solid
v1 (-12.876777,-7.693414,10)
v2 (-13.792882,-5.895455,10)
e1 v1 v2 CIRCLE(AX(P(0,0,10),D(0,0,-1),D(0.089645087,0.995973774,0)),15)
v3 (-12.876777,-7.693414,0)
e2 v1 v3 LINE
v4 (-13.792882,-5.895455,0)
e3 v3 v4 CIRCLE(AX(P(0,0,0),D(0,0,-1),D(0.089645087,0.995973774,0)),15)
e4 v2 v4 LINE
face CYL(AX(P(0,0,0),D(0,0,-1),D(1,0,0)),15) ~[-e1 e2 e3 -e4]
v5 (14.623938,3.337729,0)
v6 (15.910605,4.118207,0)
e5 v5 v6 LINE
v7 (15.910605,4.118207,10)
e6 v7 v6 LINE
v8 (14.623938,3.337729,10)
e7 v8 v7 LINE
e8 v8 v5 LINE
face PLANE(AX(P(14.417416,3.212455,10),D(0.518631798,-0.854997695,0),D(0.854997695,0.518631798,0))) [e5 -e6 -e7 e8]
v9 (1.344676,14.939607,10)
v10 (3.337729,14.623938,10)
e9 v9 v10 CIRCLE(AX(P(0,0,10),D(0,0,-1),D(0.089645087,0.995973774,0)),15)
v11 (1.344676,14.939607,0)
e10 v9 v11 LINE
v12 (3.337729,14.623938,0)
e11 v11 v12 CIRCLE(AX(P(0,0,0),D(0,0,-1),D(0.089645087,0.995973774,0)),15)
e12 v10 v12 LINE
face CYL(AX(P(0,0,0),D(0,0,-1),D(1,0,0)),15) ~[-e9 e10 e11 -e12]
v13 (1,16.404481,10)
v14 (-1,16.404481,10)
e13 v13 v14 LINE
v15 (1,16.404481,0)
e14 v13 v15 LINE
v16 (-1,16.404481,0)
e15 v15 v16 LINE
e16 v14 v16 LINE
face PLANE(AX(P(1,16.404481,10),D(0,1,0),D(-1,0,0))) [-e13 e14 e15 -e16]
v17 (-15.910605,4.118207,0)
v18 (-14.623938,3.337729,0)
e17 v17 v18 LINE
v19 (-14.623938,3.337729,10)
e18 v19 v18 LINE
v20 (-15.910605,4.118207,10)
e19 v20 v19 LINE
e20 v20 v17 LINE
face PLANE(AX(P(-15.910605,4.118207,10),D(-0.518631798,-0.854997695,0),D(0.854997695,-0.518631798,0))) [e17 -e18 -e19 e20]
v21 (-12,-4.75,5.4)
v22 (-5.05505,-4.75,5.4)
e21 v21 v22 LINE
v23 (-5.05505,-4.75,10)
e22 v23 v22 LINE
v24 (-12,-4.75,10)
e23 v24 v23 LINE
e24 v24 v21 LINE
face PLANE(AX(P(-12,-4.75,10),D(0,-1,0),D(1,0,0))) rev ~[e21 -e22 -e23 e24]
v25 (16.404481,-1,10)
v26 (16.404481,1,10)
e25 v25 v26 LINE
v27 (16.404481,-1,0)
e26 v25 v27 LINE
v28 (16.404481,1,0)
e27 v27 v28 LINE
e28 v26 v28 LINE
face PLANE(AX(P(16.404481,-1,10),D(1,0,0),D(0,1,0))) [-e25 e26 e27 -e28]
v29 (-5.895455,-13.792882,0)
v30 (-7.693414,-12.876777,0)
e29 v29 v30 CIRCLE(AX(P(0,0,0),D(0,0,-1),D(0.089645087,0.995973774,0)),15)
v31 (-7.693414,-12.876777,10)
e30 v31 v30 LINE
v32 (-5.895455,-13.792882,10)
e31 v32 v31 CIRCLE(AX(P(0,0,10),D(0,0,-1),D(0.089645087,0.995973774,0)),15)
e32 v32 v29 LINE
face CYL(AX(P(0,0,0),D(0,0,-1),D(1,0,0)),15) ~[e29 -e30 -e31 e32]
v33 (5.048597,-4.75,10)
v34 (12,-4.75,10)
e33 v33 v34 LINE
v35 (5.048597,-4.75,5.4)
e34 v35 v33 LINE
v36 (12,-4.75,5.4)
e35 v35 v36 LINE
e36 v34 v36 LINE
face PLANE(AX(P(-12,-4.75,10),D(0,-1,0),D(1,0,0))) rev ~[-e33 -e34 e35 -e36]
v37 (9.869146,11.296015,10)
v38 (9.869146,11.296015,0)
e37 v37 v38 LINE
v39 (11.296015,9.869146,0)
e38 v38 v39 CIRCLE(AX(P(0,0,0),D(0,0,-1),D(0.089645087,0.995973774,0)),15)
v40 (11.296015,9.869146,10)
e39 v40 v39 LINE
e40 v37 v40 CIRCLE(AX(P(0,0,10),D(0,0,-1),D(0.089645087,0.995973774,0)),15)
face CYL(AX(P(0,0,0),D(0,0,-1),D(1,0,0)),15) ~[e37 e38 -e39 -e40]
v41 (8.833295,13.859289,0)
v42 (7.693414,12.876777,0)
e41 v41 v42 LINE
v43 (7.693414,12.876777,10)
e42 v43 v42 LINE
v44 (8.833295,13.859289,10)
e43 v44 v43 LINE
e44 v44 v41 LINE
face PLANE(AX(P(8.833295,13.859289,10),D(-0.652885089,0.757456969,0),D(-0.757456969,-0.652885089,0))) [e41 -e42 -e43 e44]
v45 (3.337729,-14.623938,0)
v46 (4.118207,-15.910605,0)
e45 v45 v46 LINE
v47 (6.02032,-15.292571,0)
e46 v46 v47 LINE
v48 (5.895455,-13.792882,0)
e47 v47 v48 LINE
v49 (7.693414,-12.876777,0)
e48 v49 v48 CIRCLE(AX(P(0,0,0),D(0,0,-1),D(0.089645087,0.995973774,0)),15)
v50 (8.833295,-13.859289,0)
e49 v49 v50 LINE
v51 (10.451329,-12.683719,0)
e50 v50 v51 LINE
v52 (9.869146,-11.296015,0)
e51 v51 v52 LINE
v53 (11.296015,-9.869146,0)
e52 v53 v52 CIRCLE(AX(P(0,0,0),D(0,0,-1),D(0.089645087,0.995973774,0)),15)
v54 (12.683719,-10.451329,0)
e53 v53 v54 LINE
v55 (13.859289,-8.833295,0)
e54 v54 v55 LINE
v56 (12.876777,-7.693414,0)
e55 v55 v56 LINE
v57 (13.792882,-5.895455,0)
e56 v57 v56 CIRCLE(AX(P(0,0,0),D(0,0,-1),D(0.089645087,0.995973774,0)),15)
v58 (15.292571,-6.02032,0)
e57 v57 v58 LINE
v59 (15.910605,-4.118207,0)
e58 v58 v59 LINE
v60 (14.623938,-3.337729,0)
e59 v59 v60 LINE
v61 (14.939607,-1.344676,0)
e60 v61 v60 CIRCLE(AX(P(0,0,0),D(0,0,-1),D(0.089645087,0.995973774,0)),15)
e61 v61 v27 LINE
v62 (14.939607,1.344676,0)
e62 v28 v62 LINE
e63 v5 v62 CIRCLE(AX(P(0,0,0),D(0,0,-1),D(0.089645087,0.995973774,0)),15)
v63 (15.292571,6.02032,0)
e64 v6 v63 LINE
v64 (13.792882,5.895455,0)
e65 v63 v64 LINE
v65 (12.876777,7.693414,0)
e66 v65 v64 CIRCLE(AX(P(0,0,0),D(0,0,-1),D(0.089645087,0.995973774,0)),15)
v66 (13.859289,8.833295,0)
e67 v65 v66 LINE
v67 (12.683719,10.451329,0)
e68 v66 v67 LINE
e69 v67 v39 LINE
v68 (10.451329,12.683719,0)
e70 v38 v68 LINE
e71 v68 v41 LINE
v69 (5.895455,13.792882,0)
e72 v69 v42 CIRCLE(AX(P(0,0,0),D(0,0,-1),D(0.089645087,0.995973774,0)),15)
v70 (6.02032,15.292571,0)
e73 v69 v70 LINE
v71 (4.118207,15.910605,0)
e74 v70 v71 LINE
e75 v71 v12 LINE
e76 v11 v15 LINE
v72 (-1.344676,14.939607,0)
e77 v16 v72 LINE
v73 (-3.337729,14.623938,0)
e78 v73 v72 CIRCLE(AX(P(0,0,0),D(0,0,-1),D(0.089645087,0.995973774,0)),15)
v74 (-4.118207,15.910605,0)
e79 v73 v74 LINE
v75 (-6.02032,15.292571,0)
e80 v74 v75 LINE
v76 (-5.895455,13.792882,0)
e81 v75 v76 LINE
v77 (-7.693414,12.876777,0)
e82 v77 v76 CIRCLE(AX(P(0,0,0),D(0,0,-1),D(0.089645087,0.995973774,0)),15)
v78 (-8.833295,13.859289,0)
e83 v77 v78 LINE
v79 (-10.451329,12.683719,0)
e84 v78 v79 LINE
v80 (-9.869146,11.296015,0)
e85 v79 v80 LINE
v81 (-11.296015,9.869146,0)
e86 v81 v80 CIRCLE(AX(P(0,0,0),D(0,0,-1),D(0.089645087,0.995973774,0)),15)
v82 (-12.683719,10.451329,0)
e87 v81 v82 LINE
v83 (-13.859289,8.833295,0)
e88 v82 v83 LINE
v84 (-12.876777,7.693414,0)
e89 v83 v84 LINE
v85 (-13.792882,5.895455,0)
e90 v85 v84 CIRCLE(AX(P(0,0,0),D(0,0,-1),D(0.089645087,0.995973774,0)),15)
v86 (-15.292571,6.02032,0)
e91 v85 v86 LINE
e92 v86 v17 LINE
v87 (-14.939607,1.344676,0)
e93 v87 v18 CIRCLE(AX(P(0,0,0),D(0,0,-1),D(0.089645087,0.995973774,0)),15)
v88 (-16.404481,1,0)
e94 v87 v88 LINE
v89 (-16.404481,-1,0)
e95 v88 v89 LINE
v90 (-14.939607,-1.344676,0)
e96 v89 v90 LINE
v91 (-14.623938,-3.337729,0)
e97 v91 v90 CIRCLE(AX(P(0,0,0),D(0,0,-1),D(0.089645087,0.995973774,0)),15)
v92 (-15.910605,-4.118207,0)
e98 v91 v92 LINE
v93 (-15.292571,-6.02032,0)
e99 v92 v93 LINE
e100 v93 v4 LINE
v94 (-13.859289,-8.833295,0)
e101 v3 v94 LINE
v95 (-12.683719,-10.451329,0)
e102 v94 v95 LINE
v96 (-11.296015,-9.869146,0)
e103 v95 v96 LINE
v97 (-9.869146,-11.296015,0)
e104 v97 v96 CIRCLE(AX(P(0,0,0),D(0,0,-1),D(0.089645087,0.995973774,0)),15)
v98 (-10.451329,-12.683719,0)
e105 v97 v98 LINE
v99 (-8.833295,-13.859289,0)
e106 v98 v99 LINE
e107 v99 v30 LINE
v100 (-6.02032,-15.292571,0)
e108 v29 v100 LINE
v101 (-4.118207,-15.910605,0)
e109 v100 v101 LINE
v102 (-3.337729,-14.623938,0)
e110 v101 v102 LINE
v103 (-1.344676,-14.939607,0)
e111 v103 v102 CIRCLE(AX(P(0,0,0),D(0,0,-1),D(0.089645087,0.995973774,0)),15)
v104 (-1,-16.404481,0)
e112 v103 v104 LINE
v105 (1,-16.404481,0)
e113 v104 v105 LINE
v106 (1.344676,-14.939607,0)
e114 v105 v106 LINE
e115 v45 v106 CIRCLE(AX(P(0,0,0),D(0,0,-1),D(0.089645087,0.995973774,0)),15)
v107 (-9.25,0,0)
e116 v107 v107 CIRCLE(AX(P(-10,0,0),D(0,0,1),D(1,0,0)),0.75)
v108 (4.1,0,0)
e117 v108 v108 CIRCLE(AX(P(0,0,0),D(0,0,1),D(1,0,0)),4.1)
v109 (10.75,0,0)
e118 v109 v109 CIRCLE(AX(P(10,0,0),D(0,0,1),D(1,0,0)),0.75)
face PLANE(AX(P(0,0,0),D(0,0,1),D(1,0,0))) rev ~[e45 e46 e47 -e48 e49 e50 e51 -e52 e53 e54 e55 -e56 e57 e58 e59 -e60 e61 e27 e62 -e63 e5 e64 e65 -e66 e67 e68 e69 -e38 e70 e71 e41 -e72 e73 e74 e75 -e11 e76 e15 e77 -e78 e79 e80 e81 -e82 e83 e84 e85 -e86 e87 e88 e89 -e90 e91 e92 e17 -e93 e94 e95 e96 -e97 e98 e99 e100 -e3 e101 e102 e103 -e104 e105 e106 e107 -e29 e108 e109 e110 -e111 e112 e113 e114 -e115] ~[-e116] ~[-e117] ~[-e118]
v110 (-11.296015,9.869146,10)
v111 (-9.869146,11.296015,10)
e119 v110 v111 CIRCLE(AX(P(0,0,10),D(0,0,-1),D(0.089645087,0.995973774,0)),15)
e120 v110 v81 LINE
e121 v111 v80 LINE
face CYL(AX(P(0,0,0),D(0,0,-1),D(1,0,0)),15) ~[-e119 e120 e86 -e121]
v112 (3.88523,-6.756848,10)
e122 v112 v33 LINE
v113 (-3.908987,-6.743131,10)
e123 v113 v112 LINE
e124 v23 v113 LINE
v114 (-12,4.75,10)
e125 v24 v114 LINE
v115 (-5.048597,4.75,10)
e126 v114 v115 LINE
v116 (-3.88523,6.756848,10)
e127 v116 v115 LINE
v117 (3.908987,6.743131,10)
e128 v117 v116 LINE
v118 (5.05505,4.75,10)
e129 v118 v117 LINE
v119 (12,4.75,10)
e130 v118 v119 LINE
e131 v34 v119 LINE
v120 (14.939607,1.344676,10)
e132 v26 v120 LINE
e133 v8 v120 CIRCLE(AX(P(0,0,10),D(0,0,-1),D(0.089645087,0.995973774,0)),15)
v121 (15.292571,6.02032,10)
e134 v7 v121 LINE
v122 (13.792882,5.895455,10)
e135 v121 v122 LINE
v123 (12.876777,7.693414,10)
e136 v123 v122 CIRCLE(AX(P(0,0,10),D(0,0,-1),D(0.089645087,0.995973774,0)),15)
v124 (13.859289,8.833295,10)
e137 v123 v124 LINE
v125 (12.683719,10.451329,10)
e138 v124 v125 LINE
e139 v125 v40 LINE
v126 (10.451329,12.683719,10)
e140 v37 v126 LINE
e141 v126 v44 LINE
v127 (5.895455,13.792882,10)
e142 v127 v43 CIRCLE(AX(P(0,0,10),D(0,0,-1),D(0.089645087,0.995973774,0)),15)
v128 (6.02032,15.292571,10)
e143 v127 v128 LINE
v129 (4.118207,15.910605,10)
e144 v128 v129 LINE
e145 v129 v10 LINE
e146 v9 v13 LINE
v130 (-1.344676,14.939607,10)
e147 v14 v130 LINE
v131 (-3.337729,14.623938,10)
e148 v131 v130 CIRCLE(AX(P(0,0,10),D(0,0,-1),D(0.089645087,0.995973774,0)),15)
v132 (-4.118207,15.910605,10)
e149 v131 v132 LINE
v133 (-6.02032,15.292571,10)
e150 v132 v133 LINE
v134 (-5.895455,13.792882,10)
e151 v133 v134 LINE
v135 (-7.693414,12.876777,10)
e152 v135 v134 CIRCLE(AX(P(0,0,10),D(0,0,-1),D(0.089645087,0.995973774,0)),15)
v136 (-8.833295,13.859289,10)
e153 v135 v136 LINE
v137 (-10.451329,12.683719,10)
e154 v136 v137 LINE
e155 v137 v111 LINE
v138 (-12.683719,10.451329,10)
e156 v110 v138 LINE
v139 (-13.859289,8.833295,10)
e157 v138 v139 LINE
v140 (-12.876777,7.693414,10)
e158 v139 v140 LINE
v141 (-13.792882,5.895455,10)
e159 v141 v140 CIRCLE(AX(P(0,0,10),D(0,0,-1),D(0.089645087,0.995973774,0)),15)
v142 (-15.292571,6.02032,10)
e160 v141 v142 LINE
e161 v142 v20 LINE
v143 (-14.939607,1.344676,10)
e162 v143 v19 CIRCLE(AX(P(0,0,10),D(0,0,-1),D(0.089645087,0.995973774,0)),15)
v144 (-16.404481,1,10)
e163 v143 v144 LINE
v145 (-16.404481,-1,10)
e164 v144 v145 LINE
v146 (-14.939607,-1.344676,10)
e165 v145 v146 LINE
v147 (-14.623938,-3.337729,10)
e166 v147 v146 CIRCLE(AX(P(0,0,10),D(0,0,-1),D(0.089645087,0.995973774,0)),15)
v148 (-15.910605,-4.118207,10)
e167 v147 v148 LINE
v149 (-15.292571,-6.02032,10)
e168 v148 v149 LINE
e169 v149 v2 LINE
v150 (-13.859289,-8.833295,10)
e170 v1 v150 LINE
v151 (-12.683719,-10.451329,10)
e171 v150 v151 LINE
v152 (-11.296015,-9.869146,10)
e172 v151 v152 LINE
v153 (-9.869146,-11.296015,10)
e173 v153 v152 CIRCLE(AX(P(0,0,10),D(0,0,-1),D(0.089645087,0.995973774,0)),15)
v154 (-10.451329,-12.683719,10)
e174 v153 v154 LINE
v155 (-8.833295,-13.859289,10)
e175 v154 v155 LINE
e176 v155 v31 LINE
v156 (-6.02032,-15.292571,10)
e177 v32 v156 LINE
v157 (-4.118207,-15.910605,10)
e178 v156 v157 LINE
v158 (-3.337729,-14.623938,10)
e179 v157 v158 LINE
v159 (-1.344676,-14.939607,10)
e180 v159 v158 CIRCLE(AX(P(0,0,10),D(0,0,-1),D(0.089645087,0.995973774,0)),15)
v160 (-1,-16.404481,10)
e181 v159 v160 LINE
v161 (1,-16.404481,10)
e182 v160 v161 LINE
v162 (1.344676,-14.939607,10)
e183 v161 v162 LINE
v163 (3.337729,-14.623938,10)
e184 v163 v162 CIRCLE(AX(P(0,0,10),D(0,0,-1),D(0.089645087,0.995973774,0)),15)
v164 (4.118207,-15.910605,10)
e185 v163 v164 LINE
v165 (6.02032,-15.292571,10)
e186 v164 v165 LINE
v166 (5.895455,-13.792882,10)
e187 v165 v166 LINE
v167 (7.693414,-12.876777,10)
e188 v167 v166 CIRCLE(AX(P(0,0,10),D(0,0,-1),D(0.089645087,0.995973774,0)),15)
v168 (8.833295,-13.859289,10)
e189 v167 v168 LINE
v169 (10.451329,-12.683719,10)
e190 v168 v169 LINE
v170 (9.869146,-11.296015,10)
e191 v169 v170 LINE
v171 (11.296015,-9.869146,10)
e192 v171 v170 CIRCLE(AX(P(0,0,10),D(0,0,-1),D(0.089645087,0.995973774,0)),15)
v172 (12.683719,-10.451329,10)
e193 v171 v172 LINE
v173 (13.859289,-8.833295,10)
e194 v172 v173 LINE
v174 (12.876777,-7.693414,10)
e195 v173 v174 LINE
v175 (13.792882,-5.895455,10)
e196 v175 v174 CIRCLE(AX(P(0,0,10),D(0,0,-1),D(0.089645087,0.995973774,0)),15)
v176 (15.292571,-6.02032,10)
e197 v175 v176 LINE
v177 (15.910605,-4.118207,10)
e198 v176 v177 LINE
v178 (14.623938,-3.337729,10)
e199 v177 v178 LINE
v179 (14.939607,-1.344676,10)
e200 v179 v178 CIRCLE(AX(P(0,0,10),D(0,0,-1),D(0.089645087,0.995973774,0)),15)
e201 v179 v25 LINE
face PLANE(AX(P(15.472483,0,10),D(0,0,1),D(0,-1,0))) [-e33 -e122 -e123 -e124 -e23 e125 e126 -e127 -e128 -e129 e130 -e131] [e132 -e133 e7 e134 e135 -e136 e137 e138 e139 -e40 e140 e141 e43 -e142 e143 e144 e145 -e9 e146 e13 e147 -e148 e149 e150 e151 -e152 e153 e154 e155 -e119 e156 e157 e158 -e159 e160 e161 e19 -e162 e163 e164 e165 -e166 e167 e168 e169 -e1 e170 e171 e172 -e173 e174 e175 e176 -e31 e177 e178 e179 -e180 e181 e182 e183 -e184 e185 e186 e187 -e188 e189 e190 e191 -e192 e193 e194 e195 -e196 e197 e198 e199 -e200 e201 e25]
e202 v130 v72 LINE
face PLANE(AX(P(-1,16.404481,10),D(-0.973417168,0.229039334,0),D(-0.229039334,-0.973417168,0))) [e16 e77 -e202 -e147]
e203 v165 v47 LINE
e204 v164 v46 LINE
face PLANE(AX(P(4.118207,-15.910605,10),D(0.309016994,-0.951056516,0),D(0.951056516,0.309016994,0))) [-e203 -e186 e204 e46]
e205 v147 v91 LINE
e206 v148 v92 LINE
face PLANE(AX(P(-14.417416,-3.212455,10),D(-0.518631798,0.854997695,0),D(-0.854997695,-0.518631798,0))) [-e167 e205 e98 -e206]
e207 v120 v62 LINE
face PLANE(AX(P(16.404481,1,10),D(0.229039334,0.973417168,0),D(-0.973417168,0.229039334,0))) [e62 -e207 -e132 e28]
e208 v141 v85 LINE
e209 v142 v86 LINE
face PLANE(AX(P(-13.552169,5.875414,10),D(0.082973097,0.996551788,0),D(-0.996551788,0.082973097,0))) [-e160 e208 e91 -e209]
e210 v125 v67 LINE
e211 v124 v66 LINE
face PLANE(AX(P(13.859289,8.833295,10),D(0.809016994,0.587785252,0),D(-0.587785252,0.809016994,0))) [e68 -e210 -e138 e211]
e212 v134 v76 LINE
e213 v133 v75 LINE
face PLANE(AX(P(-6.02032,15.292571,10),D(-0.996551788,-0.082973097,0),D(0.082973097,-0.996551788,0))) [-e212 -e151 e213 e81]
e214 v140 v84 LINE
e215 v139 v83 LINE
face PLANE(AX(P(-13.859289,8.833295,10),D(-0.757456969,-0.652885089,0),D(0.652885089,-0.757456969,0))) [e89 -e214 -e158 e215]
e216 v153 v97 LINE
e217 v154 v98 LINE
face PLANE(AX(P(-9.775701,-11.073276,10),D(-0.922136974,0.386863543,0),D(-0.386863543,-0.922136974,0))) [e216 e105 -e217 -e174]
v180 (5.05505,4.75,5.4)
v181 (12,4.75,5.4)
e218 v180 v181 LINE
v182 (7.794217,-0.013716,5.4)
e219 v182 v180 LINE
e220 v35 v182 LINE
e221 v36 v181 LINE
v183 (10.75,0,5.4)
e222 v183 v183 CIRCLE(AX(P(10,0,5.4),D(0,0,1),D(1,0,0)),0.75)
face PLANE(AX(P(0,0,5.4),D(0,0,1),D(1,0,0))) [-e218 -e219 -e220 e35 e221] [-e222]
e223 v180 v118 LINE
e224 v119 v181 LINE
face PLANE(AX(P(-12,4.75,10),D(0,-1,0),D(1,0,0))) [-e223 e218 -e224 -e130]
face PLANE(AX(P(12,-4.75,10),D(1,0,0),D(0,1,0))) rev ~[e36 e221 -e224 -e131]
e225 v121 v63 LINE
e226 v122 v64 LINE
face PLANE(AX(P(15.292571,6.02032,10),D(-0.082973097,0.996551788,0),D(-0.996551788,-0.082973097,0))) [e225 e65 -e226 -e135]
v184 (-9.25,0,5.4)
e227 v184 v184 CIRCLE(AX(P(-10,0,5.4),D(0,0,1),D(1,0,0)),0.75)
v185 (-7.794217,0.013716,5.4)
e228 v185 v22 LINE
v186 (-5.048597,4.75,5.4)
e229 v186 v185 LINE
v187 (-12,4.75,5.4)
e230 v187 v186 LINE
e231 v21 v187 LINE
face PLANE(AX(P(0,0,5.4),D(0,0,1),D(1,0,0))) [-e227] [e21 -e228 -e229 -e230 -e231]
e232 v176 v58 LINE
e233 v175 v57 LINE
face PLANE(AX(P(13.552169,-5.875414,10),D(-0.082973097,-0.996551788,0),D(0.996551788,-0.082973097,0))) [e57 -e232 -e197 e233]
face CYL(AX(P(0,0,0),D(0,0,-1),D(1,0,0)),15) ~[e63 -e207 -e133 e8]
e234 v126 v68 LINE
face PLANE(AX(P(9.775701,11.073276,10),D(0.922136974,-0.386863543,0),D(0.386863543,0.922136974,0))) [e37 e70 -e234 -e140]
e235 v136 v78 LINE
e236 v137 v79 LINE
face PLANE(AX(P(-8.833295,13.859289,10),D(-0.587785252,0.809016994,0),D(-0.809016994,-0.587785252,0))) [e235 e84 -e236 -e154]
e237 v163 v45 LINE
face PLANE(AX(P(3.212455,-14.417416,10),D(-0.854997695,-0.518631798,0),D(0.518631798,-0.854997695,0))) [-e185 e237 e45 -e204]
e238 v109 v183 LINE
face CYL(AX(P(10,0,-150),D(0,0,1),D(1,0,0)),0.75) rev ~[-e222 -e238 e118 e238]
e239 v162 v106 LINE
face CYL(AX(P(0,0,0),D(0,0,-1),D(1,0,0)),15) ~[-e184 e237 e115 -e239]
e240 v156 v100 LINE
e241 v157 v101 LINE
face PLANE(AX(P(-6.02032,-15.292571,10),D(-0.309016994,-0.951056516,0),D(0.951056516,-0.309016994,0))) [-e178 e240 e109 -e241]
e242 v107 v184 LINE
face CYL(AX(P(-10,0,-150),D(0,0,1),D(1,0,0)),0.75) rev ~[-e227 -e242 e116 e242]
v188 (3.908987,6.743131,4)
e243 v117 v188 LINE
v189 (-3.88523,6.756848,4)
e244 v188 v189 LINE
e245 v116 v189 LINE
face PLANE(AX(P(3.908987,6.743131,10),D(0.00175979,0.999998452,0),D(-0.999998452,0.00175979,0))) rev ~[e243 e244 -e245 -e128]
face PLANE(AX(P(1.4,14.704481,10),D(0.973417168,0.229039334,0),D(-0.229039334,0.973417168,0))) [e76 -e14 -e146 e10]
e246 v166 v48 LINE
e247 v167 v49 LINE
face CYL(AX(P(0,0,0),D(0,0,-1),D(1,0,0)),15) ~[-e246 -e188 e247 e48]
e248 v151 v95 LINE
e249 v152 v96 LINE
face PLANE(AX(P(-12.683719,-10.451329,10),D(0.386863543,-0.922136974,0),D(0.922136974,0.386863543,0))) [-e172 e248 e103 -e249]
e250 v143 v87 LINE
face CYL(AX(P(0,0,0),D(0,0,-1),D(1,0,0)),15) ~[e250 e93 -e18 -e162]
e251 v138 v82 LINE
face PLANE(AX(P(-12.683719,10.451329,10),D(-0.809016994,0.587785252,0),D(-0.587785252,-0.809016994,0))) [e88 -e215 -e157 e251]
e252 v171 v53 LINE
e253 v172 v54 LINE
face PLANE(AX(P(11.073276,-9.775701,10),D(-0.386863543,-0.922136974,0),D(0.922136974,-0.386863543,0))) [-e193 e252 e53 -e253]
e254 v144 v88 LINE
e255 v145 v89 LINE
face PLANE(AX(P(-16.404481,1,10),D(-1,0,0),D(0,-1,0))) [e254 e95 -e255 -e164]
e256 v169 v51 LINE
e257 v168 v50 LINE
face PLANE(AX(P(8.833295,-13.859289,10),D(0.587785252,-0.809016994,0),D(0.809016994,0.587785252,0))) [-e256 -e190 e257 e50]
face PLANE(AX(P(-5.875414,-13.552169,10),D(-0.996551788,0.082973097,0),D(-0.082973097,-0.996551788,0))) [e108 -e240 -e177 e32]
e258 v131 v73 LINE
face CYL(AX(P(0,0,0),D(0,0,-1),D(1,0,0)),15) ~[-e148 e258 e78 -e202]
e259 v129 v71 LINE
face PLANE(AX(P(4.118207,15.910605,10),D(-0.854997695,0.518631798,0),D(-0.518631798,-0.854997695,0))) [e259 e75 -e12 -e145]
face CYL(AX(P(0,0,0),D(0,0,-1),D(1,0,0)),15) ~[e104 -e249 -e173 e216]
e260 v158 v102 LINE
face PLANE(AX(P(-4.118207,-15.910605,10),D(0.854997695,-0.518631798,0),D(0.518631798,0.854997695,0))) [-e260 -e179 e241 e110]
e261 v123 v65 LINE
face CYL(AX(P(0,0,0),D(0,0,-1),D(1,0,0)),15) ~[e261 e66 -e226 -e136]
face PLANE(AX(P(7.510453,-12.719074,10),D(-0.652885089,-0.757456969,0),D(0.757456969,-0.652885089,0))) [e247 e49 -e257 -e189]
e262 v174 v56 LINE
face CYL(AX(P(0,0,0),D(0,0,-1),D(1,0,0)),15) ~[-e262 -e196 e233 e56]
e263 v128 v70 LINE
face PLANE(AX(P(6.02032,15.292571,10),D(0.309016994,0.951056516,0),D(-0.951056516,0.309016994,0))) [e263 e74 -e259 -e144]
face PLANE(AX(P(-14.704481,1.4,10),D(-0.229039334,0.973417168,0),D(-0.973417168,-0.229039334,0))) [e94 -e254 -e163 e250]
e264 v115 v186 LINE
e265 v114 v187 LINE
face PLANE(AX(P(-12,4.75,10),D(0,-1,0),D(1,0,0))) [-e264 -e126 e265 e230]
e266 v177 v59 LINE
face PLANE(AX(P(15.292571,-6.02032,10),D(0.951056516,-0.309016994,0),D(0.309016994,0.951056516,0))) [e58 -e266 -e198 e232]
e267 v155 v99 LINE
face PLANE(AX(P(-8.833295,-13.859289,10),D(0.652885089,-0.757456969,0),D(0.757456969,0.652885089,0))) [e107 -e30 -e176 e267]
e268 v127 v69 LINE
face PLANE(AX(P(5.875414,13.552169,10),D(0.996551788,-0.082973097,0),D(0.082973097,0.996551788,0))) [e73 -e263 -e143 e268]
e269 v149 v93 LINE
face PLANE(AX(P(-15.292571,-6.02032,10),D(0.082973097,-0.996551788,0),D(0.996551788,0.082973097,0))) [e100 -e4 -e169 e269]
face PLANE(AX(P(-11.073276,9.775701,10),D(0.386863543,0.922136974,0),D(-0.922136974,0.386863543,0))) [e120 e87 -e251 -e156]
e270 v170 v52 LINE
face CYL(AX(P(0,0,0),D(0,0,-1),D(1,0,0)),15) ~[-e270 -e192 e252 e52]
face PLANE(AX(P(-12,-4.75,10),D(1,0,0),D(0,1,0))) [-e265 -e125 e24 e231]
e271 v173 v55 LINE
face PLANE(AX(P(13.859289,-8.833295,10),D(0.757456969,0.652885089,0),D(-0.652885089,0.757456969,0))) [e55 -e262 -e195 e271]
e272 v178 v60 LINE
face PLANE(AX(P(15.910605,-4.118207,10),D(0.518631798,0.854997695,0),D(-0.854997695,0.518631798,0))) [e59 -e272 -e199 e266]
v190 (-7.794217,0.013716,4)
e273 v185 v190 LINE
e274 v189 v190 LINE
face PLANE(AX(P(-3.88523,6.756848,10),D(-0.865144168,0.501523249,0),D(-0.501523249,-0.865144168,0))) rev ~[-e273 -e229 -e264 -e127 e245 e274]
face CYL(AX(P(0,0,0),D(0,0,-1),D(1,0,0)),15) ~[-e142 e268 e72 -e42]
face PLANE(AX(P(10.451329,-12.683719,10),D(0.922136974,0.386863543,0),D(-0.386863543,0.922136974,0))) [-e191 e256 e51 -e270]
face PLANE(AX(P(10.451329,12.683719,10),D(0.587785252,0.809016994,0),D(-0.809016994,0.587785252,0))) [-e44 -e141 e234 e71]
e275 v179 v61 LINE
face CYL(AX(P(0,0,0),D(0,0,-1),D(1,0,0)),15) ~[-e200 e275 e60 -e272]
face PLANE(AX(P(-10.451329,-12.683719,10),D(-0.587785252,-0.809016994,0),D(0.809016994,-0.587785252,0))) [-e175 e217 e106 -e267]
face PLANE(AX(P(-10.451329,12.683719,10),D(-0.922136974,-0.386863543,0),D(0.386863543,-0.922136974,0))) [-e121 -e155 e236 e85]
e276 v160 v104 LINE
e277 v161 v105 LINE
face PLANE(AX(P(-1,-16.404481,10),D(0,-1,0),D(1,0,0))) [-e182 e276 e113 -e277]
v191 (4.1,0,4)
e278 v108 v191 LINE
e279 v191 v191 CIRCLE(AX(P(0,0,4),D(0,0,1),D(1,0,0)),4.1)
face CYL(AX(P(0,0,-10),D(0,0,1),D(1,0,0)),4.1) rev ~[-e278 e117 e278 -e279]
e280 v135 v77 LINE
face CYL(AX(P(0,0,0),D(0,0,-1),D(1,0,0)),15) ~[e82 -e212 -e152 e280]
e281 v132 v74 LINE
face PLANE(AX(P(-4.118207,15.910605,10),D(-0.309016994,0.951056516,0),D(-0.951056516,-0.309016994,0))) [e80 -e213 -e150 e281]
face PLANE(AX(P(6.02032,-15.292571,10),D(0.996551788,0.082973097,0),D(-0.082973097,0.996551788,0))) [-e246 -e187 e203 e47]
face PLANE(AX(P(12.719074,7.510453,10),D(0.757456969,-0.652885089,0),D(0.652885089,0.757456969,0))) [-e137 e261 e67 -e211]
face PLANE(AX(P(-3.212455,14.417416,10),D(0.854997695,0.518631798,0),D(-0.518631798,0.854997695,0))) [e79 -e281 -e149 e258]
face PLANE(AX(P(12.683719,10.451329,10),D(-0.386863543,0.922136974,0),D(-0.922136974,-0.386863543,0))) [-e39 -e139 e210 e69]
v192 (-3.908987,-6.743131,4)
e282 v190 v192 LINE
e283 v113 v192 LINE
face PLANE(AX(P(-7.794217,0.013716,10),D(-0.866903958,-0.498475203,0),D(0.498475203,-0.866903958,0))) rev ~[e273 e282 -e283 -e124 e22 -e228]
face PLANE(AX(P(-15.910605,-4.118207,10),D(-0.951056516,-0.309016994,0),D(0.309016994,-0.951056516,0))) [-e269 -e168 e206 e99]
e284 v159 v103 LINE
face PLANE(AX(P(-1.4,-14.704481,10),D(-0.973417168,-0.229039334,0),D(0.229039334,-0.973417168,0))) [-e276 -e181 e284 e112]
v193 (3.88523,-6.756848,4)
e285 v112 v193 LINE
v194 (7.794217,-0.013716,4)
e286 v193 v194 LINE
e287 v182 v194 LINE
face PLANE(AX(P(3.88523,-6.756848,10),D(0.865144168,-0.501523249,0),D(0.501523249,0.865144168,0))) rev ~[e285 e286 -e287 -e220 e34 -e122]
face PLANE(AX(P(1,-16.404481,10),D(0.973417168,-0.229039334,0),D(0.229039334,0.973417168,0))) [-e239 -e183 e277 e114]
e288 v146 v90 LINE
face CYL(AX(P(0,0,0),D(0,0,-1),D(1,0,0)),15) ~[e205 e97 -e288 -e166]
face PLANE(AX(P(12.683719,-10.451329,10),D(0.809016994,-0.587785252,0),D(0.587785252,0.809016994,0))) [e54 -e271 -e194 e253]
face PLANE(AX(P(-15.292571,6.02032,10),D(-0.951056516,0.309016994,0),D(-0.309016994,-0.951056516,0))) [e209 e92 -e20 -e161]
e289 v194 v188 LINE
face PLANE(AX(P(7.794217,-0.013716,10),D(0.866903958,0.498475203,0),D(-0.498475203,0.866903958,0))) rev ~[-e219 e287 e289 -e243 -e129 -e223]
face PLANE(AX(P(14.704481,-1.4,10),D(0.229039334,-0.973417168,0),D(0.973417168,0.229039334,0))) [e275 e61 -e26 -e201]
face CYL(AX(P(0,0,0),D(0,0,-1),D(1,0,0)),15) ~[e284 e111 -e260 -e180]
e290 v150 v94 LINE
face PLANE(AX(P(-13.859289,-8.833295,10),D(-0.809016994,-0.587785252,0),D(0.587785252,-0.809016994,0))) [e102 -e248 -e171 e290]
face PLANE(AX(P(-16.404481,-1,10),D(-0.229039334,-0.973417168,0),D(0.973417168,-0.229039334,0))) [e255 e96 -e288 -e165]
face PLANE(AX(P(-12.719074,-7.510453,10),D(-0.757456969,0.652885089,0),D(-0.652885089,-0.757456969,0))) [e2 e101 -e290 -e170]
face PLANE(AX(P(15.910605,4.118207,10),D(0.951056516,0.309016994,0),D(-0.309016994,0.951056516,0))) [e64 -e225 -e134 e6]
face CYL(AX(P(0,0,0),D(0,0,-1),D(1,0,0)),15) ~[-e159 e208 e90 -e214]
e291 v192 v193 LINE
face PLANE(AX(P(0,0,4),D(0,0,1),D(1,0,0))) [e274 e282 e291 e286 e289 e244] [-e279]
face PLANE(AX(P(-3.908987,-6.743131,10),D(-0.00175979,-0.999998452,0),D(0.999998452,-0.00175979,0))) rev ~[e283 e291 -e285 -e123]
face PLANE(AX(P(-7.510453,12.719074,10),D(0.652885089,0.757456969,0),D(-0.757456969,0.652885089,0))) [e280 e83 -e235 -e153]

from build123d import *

# Parameters (mm, degrees)
SKETCH1_R                      = 15
EXTRUDE1_DEPTH                 = 10
EXTRUDE3_DEPTH                 = 10
CIRPATTERN1_COUNT              = 20
F_8_2_8_2_DIAMETER_HOLE1_D     = 8.2
F_8_2_8_2_DIAMETER_HOLE1_DEPTH = 10
F_8_2_8_2_DIAMETER_HOLE1_TIP   = 2.463528538
SKETCH4_W                      = 24
SKETCH4_H                      = 9.5
EXTRUDE4_DEPTH                 = 4.6
F_1_5_1_5_DIAMETER_HOLE1_D     = 1.5
F_1_5_1_5_DIAMETER_HOLE1_DEPTH = 150
F_1_5_1_5_DIAMETER_HOLE1_TIP   = 0.450645464
EXTRUDE5_DEPTH                 = 6


with BuildPart() as part:
    # Sketch1 → Extrude1 (new body)
    with BuildSketch(Plane.XY):
        Circle(SKETCH1_R)
    extrude(amount=EXTRUDE1_DEPTH)

    # Sketch2 → Extrude3 (add)
    with BuildSketch(Plane.XY.offset(10)):
        Polygon((1.4, 14.704480908), (1, 16.404480908), (-1, 16.404480908), (-1.4, 14.704480908), align=None)
    extrude3 = extrude(amount=-EXTRUDE3_DEPTH)

    # CirPattern1: Extrude3 ×20 about axis
    cirpattern1_axis = Axis((0, 0, 0), (0, 0, 1))
    for i in range(1, CIRPATTERN1_COUNT):
        add(extrude3.rotate(cirpattern1_axis, i * 360 / CIRPATTERN1_COUNT))

    # Ø8.2 (8.2) Diameter Hole1
    with Locations(Plane(origin=(0, 0, 0), x_dir=(-1, 0, 0), z_dir=(0, 0, -1))):
        with Locations((0, 0)):
            Hole(F_8_2_8_2_DIAMETER_HOLE1_D / 2, depth=F_8_2_8_2_DIAMETER_HOLE1_DEPTH)
            with Locations((0, 0, -(F_8_2_8_2_DIAMETER_HOLE1_DEPTH + F_8_2_8_2_DIAMETER_HOLE1_TIP / 2))):  # 118° drill point
                Cone(0, F_8_2_8_2_DIAMETER_HOLE1_D / 2, F_8_2_8_2_DIAMETER_HOLE1_TIP, mode=Mode.SUBTRACT)

    # Sketch4 → Extrude4 (cut)
    with BuildSketch(Plane.XY.offset(10)):
        Rectangle(SKETCH4_W, SKETCH4_H)
    extrude(amount=-EXTRUDE4_DEPTH, mode=Mode.SUBTRACT)

    # Ø1.5 (1.5) Diameter Hole1
    with Locations(Plane(origin=(10, 0, 0), x_dir=(-1, 0, 0), z_dir=(0, 0, -1))):
        with Locations((0, 0), (20, 0)):
            Hole(F_1_5_1_5_DIAMETER_HOLE1_D / 2, depth=F_1_5_1_5_DIAMETER_HOLE1_DEPTH)
            with Locations((0, 0, -(F_1_5_1_5_DIAMETER_HOLE1_DEPTH + F_1_5_1_5_DIAMETER_HOLE1_TIP / 2))):  # 118° drill point
                Cone(0, F_1_5_1_5_DIAMETER_HOLE1_D / 2, F_1_5_1_5_DIAMETER_HOLE1_TIP, mode=Mode.SUBTRACT)

    # Sketch6 → Extrude5 (cut)
    with BuildSketch(Plane.XY.offset(10)):
        Polygon((3.908986866, 6.743131445), (-3.885229699, 6.756847651), (-7.794216565, 0.013716207), (-3.908986866, -6.743131445), (3.885229699, -6.756847651), (7.794216565, -0.013716207), align=None)
    extrude(amount=-EXTRUDE5_DEPTH, mode=Mode.SUBTRACT)


solid = part.part
